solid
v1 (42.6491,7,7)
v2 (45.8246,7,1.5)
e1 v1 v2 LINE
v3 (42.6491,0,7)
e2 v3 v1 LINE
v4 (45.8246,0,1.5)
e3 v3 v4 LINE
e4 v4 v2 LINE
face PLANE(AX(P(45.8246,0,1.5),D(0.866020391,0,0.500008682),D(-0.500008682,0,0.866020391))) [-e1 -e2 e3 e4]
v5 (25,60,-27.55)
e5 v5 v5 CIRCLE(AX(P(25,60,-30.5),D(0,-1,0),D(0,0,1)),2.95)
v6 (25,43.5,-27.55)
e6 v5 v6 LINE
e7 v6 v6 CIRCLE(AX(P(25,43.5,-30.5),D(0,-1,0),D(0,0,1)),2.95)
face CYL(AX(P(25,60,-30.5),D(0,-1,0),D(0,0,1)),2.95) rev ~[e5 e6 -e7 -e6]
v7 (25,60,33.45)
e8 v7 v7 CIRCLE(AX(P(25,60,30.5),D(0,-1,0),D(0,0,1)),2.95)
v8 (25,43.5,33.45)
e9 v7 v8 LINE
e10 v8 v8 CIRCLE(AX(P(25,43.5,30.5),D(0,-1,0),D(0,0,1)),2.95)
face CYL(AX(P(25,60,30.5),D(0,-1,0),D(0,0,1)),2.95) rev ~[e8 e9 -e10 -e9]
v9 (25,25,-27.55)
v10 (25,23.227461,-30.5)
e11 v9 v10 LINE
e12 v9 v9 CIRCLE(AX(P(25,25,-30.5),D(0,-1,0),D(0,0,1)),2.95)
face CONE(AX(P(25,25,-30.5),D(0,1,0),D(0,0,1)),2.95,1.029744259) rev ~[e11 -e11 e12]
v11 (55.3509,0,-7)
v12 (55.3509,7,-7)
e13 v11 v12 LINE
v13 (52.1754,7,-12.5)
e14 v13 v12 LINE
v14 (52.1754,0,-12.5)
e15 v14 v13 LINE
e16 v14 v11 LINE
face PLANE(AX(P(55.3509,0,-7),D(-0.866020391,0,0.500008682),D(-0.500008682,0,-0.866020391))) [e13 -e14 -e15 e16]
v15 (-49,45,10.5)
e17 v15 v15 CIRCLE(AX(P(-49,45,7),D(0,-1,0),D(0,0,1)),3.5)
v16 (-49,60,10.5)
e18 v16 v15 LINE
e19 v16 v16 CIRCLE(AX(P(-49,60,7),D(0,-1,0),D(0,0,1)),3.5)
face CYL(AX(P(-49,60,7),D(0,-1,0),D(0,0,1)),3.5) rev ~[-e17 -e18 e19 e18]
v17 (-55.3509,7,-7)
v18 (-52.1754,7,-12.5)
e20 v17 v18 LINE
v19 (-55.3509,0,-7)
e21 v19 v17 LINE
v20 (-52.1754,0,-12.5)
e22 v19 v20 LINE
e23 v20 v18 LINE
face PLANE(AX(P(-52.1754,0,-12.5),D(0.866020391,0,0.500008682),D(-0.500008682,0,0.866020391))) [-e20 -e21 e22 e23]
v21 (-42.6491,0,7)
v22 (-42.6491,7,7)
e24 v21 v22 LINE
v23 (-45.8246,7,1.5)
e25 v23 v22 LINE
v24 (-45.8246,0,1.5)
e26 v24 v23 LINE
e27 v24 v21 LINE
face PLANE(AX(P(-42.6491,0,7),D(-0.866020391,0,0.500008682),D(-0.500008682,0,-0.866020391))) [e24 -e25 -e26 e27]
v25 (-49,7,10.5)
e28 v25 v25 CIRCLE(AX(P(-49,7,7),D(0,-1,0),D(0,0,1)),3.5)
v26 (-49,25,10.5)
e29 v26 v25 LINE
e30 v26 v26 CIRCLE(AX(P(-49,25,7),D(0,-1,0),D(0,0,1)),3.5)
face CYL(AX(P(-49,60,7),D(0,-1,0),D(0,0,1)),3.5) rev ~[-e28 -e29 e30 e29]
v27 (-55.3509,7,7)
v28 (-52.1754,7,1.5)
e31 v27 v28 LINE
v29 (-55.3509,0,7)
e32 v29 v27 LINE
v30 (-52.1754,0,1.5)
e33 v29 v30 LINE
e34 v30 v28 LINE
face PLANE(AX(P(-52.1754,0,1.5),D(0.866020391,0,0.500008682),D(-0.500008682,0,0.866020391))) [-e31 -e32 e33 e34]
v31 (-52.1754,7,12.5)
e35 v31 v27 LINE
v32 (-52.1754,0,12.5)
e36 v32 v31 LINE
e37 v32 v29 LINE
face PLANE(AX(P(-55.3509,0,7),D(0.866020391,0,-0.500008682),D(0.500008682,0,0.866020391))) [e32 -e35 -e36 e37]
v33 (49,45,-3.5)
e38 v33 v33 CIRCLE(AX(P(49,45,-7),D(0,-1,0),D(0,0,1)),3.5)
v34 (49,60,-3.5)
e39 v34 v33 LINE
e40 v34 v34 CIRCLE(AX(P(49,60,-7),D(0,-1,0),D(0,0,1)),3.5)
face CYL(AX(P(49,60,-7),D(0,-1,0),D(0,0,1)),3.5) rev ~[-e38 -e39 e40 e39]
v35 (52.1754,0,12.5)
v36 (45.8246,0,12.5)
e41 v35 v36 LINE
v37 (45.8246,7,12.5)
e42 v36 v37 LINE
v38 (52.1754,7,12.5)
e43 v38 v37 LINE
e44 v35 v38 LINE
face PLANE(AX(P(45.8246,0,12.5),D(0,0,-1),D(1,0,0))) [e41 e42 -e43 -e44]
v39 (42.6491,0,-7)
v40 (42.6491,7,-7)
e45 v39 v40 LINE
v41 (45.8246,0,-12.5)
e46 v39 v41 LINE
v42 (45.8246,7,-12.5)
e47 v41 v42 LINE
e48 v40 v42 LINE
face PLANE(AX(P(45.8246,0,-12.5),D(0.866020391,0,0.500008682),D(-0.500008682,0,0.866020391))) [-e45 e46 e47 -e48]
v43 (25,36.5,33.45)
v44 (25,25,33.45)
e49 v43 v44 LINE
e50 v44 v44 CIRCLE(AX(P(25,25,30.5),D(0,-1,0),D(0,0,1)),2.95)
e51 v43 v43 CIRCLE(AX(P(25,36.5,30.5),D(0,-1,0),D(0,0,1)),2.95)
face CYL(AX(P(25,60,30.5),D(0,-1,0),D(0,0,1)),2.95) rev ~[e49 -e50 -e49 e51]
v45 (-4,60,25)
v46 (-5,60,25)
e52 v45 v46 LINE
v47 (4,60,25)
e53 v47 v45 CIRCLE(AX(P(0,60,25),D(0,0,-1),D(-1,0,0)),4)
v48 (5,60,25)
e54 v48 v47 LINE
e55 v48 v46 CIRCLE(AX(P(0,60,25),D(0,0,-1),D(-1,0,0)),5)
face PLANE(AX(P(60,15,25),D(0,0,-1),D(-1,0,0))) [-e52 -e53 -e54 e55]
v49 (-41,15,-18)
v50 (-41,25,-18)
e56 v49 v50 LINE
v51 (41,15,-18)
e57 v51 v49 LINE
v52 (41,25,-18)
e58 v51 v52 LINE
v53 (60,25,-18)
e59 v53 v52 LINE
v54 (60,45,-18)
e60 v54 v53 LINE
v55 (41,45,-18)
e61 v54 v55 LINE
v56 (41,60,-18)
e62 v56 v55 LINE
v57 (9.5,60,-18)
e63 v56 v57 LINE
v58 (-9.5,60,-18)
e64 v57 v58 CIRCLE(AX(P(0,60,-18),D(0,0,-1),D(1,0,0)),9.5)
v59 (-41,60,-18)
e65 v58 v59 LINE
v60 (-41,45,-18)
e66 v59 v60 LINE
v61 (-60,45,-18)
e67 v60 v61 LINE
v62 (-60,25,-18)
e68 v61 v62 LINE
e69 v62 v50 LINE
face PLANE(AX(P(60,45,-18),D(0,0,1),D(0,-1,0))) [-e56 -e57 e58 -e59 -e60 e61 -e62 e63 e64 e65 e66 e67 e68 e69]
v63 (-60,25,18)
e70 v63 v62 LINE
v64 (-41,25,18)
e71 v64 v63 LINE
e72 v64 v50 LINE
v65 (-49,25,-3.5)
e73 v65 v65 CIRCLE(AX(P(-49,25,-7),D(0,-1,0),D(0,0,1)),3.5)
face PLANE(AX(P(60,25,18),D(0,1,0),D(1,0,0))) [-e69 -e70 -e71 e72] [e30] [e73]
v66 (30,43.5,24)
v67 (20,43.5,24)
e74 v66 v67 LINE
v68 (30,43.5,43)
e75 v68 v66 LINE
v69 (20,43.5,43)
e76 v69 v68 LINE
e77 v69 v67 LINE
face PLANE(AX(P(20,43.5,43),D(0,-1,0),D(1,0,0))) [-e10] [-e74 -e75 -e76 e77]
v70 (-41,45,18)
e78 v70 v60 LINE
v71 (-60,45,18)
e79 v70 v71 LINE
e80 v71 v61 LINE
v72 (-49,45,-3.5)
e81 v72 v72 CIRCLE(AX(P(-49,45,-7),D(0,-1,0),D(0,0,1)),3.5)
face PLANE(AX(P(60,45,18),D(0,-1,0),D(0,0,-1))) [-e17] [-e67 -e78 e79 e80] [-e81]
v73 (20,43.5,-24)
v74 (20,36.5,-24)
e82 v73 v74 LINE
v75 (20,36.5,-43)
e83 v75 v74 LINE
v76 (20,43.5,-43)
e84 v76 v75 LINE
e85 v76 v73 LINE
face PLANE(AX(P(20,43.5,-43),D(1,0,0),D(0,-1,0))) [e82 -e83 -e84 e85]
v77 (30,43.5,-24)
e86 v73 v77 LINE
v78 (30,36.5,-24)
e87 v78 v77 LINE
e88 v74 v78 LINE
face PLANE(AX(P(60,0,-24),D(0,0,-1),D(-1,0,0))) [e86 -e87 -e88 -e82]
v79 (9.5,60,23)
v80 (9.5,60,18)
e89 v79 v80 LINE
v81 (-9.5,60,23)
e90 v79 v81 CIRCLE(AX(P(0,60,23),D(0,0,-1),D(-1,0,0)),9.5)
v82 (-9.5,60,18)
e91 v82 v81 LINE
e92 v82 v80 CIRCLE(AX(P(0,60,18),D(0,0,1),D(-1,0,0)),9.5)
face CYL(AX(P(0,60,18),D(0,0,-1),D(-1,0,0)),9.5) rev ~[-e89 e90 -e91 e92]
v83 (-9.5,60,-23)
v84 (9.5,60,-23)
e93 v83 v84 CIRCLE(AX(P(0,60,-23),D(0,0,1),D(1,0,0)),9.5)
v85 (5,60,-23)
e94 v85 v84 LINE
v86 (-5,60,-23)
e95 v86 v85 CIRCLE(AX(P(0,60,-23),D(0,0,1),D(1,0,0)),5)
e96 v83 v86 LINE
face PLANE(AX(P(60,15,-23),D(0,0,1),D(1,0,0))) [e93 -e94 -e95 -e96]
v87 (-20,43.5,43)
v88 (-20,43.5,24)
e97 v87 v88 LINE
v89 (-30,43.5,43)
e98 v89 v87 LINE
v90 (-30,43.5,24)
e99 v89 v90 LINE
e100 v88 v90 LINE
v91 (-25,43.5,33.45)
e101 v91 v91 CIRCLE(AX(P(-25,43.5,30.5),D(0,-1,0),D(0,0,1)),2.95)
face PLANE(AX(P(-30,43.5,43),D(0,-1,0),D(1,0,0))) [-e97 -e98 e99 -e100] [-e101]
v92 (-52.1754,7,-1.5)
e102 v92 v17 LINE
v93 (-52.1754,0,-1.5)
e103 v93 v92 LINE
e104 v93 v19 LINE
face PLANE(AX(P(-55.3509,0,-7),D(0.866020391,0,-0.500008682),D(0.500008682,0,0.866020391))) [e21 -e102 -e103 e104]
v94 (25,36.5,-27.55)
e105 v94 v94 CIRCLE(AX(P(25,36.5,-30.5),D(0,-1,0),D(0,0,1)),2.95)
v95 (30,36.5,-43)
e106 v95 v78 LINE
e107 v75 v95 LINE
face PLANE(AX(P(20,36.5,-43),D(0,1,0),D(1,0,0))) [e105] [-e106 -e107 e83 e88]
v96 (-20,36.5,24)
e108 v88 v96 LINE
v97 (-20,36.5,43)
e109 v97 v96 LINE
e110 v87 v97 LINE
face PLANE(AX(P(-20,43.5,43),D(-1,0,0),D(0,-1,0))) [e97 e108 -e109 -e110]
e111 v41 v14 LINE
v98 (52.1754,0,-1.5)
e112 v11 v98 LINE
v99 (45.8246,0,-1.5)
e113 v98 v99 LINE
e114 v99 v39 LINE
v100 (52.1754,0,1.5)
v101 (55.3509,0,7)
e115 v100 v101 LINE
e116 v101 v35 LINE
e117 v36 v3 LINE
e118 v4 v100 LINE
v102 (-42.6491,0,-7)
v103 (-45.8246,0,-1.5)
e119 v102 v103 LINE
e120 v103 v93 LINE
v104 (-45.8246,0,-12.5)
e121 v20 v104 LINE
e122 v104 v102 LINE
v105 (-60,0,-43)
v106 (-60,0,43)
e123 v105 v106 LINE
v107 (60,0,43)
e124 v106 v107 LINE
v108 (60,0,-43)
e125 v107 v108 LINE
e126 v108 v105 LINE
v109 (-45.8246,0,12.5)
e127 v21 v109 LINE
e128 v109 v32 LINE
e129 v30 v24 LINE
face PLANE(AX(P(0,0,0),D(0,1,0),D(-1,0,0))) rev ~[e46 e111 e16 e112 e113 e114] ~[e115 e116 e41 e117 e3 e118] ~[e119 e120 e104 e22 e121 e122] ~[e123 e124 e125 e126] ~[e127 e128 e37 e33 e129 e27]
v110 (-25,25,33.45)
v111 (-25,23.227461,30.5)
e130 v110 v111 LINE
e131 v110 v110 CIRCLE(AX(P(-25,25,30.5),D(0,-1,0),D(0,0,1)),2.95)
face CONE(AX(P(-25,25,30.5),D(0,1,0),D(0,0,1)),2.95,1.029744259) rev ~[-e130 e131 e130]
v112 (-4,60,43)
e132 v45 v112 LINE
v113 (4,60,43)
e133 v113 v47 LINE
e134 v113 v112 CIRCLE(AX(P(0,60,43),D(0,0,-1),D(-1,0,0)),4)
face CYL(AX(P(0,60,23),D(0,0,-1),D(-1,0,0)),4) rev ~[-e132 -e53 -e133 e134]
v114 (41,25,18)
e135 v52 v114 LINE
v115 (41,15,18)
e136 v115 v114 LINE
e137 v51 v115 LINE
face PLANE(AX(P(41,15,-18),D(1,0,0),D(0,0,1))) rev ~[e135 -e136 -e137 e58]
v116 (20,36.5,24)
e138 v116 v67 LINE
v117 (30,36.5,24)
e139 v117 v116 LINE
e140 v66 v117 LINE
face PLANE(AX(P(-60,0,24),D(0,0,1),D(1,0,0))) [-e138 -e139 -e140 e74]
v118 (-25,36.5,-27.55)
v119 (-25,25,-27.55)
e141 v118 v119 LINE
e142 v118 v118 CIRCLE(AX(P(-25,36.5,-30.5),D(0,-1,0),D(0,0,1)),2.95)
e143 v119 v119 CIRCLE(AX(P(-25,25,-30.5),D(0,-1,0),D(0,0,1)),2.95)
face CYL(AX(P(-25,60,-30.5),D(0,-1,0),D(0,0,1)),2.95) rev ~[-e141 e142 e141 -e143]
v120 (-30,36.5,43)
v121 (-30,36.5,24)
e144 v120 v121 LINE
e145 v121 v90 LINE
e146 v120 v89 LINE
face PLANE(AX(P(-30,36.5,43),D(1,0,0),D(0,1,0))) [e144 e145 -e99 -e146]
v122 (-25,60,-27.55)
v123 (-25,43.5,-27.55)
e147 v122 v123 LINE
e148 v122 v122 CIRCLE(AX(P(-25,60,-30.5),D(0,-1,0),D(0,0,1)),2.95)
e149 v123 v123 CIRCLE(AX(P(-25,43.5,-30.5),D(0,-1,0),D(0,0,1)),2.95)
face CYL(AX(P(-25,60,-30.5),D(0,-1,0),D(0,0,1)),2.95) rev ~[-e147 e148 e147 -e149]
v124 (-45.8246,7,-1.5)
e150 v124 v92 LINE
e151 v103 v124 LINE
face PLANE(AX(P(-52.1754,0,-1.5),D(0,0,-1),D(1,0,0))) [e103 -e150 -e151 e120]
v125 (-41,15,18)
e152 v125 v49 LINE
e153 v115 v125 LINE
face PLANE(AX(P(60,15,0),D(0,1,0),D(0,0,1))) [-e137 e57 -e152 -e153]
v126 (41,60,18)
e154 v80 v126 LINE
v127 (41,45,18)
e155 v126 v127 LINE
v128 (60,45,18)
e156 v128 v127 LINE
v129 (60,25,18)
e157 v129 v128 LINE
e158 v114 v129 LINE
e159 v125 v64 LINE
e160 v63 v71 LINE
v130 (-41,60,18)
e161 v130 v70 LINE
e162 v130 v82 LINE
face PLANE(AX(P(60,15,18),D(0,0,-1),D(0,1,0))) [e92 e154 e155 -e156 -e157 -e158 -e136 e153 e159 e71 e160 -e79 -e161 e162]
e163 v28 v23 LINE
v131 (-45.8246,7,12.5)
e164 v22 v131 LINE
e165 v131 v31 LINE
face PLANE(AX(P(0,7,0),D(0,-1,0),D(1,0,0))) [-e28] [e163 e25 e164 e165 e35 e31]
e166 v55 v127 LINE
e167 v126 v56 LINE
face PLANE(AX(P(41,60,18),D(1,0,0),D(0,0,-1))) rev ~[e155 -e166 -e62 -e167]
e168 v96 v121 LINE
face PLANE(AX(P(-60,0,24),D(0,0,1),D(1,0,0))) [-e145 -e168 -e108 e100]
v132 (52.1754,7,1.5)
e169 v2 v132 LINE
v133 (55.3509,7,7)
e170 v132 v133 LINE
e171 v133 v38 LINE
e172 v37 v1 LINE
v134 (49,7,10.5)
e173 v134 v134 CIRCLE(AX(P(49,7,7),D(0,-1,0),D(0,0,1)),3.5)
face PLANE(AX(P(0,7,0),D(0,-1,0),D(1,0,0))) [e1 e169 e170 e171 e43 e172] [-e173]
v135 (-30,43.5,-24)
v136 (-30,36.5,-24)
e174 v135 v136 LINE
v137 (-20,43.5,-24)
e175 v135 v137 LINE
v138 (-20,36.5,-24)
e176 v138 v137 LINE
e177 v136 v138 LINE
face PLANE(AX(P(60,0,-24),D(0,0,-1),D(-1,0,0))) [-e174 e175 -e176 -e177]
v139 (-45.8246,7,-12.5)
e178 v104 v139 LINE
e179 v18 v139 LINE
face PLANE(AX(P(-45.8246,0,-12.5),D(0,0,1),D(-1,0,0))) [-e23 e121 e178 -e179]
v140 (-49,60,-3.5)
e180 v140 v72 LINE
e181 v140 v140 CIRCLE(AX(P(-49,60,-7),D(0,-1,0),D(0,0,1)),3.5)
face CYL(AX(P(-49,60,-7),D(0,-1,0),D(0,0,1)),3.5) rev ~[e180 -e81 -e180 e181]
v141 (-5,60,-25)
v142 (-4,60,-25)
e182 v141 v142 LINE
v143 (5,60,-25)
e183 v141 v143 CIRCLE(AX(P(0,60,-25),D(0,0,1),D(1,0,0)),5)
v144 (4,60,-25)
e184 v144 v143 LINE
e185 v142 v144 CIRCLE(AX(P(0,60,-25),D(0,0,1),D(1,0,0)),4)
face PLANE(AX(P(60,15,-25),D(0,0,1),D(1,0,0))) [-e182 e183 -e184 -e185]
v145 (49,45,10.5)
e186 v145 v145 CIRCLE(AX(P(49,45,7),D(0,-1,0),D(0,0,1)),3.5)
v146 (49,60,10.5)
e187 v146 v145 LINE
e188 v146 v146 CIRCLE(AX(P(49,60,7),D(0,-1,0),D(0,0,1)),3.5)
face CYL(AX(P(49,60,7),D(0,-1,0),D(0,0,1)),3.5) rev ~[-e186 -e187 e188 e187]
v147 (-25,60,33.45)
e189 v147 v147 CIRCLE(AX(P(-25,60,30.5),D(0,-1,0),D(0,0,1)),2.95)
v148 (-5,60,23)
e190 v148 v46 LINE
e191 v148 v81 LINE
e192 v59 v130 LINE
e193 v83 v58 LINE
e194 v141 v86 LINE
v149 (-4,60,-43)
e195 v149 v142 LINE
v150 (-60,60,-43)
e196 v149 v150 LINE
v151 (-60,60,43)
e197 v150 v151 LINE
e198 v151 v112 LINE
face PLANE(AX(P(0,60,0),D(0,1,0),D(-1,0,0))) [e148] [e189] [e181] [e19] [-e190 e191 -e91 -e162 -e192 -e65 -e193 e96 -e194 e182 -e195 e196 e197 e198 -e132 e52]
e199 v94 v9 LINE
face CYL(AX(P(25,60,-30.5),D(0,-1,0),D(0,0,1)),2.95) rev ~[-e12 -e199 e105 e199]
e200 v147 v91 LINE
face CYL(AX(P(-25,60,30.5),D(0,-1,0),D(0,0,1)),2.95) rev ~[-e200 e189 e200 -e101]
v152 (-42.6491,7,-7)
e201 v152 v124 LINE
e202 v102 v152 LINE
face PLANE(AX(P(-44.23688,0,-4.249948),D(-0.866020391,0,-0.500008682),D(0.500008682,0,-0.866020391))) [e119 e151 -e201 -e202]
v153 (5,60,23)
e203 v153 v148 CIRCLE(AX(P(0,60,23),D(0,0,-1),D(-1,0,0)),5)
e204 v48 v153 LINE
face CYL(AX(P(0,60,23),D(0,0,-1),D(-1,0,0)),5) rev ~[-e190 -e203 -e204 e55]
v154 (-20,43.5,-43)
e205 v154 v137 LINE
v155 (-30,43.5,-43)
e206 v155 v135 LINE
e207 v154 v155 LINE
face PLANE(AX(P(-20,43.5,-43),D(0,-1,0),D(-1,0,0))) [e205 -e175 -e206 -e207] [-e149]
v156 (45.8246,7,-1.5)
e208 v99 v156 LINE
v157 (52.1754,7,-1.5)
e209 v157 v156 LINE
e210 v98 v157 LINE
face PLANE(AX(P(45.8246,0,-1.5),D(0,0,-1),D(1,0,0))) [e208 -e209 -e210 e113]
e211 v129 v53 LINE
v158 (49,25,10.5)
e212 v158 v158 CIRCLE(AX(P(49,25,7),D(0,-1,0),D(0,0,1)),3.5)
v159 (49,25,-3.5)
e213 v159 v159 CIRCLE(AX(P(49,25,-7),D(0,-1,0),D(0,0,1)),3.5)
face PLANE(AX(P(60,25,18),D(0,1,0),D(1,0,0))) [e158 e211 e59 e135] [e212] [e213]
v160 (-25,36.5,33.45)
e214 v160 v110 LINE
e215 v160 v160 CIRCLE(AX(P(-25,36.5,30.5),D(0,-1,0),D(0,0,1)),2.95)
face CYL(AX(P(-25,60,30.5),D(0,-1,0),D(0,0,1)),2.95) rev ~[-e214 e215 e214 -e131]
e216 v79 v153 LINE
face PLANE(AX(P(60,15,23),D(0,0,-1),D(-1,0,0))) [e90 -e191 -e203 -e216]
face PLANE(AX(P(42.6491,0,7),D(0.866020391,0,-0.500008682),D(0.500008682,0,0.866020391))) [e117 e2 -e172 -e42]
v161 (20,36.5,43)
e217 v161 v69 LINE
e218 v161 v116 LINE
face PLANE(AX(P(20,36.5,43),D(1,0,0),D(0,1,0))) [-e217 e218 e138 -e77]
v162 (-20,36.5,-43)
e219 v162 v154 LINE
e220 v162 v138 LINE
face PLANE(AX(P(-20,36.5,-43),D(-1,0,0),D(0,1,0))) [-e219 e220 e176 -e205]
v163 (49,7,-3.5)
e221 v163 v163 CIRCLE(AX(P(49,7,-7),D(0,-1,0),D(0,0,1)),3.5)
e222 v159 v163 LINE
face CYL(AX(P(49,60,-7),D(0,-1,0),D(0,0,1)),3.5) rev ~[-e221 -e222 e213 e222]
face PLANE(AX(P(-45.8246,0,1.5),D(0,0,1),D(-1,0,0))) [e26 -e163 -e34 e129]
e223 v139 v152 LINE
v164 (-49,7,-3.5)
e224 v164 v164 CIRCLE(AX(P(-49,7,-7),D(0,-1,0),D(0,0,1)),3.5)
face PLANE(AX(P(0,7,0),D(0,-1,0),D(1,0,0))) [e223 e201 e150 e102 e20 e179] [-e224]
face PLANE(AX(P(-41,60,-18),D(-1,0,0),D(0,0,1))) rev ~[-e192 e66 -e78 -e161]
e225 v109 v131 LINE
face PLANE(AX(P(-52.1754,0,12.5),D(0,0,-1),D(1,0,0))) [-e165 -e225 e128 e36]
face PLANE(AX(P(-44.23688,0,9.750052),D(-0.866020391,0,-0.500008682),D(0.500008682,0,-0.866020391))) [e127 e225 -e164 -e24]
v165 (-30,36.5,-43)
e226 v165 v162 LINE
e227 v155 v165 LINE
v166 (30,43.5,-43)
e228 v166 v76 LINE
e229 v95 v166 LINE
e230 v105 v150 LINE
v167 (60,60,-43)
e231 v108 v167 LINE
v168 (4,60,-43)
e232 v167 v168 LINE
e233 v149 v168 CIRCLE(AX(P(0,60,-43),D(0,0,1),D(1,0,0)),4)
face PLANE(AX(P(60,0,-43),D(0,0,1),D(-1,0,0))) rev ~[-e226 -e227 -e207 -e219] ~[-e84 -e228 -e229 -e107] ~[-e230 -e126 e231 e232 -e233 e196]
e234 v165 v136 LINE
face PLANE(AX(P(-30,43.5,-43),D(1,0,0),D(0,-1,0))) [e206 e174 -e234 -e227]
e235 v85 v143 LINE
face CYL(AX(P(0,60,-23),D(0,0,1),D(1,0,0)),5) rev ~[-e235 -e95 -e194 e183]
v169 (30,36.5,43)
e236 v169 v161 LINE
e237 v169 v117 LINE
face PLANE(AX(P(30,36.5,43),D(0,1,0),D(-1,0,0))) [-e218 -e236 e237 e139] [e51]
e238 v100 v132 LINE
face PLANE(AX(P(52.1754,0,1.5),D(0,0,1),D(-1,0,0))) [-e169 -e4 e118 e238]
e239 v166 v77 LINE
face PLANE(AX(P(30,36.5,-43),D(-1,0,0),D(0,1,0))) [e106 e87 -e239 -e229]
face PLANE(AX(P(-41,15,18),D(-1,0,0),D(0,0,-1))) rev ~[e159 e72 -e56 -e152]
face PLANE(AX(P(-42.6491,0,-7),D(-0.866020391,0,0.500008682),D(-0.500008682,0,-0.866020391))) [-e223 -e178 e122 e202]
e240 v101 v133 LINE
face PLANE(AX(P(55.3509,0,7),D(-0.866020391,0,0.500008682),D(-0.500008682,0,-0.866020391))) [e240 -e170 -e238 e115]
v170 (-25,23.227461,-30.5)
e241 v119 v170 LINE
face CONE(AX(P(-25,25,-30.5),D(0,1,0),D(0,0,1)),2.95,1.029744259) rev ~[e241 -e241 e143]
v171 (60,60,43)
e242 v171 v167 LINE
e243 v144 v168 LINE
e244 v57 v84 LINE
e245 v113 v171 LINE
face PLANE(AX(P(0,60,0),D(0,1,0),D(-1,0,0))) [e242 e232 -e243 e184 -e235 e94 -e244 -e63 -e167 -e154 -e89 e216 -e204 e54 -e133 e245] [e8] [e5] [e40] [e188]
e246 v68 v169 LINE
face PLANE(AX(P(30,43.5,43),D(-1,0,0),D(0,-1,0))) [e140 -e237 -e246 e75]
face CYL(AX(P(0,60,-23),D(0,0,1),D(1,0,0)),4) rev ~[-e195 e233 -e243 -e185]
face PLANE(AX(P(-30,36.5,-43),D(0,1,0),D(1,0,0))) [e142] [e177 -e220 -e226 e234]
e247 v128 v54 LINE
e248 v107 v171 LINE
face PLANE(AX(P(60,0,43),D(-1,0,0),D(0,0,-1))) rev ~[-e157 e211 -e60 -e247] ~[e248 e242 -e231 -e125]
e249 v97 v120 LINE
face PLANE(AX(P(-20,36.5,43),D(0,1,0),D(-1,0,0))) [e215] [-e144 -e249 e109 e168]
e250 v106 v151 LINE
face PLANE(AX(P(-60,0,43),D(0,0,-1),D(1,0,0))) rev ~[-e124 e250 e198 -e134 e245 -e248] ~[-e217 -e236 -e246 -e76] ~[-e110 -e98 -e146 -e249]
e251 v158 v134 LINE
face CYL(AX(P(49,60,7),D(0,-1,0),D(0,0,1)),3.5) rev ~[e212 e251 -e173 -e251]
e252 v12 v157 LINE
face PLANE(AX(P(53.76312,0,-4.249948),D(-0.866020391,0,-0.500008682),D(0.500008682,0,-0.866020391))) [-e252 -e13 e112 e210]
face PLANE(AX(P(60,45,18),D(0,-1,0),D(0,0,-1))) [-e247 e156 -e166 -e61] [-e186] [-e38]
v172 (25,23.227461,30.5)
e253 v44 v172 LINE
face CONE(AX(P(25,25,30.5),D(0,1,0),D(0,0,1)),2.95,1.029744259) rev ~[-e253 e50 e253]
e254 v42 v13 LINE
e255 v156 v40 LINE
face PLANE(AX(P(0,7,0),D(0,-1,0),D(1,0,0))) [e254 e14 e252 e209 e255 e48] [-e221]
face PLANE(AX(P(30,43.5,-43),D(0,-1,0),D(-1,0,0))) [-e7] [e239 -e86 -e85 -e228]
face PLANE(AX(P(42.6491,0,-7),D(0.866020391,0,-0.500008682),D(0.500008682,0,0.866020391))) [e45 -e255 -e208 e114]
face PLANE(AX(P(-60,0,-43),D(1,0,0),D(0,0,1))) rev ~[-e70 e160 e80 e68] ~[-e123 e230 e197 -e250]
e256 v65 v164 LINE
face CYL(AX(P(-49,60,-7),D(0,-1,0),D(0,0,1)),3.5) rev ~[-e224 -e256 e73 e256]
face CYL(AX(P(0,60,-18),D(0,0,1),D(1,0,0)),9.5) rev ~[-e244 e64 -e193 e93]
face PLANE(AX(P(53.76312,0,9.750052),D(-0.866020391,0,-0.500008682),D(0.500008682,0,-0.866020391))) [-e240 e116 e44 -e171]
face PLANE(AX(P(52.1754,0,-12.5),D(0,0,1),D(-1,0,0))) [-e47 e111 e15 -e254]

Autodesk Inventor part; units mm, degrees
ref_plane "YZ Plane" through (0, 0, 0) normal (1, 0, 0) x (0, 1, 0)
ref_plane "XZ Plane" through (0, 0, 0) normal (0, 1, 0) x (-1, 0, 0)
ref_plane "XY Plane" through (0, 0, 0) normal (0, 0, 1) x (1, 0, 0)
sketch "Schizzo1" plane through (0, 0, 0) normal (0, 1, 0) x (-1, 0, 0)
  line L0 (60, 43) -> (-60, 43)
  line L1 (-60, 43) -> (-60, -43)
  line L2 (-60, -43) -> (60, -43)
  line L3 (60, -43) -> (60, 43)
  line L4 (60, 43) -> (-60, -43) construction
  line L5 (-60, 43) -> (60, -43) construction
  point P0 (0, 0)
  point P1 (0, 0)
  point P2 (0, 0)
  dimension "d0" = 120
  dimension "d1" = 86
extrude "Estrusione1" add sketch "Schizzo1" along normal blind 60
sketch "Schizzo2" plane through (60, 0, 43) normal (1, 0, 0) x (0, 0, -1)
  line L0 (43, 0) -> (43, 15)
  line L1 (25, 45) -> (61, 45)
  line L2 (61, 45) -> (61, 15)
  line L3 (61, 15) -> (25, 15)
  line L4 (25, 15) -> (25, 45)
  line L5 (25, 45) -> (61, 15) construction
  line L6 (61, 45) -> (25, 15) construction
  point P0 (43, 30)
  dimension "d4" = 15
  dimension "d5" = 36
  dimension "d6" = 30
extrude "Estrusione2" cut sketch "Schizzo2" against normal blind 120
sketch "Schizzo3" plane through (60, 15, -18) normal (0, 0, 1) x (1, 0, 0)
  circle A0 centre (-60, 45) radius 9.5
  line L0 (0, 45) -> (-120, 45) projected
  point P0 (-60, -15)
  dimension "d9" = 19
extrude "Estrusione3" cut sketch "Schizzo3" against normal blind 5
sketch "Schizzo4" plane through (60, 15, -23) normal (0, 0, 1) x (1, 0, 0)
  circle A0 centre (-60, 45) radius 4
  line L0 (0, 45) -> (-120, 45) projected
  point P0 (-60, -15)
  dimension "d12" = 8
extrude "Estrusione4" cut sketch "Schizzo4" against normal blind 20
sketch "Schizzo5" plane through (60, 15, 18) normal (0, 0, -1) x (-1, 0, 0)
  circle A0 centre (60, 45) radius 9.5
  line L0 (120, 45) -> (0, 45) projected
  point P0 (60, -15)
  dimension "d15" = 19
extrude "Estrusione5" cut sketch "Schizzo5" against normal blind 5
sketch "Schizzo6" plane through (60, 15, 23) normal (0, 0, -1) x (-1, 0, 0)
  circle A0 centre (60, 45) radius 4
  line L0 (50.5, 45) -> (69.5, 45) projected
  point P0 (60, -15)
extrude "Estrusione6" cut sketch "Schizzo6" against normal blind 20
sketch "Schizzo7" plane through (0, 60, 0) normal (0, 1, 0) x (1, 0, 0)
  line L0 (-4, 43) -> (4, 43) projected
  line L1 (0, 43) -> (0, 18)
  line L2 (60, 18) -> (-60, 18) projected
  line L3 (0, -18) -> (0, -43)
  line L4 (4, -43) -> (-4, -43) projected
  line L5 (-133, 18) -> (-97, 18) construction
  line L6 (-25, 30.5) -> (25, 30.5)
  line L7 (-25, -30.5) -> (25, -30.5)
  point P0 (0, 0)
  point P1 (0, 30.5)
  point P2 (0, -30.5)
  point P3 (-50, 18)
  dimension "d22" = 50
  dimension "d23" = 50
hole "Foro1" at (-25, 60, -30.5) at (-25, 60, 30.5) at (25, 60, 30.5) at (25, 60, -30.5) direction (0, -1, 0) diameter 5.9 depth 35 tip angle 118 clearance for "Vite a testa esagonale" size "M5" standard "ANSI - Profilo M Metrico"
sketch "Schizzo8" plane through (-60, 0, 43) normal (0, 0, 1) x (1, 0, 0)
  line L0 (32.05, 60) -> (37.95, 60) projected
  line L1 (82.05, 60) -> (87.95, 60) projected
  line L2 (85, 60) -> (85, 40)
  line L3 (85, 60) -> (65, 60) construction
  line L4 (35, 60) -> (35, 40)
  line L5 (35, 60) -> (15, 60) construction
  line L6 (30, 43.5) -> (40, 43.5)
  line L7 (40, 43.5) -> (40, 36.5)
  line L8 (40, 36.5) -> (30, 36.5)
  line L9 (30, 36.5) -> (30, 43.5)
  line L10 (30, 43.5) -> (40, 36.5) construction
  line L11 (40, 43.5) -> (30, 36.5) construction
  line L12 (80, 43.5) -> (90, 43.5)
  line L13 (90, 43.5) -> (90, 36.5)
  line L14 (90, 36.5) -> (80, 36.5)
  line L15 (80, 36.5) -> (80, 43.5)
  line L16 (80, 43.5) -> (90, 36.5) construction
  line L17 (90, 43.5) -> (80, 36.5) construction
  point P0 (60, 0)
  point P1 (35, 40)
  dimension "d31" = 90
  dimension "d32" = 270
  dimension "d33" = 20
  dimension "d34" = 20
  dimension "d35" = 7
  dimension "d36" = 7
  dimension "d37" = 10
  dimension "d38" = 10
extrude "Estrusione7" cut sketch "Schizzo8" against normal blind 19
sketch "Schizzo10" plane through (60, 0, -43) normal (0, 0, -1) x (-1, 0, 0)
  line L0 (85, 60) -> (85, 40)
  line L1 (85, 60) -> (65, 60) construction
  line L2 (35, 60) -> (35, 40)
  line L3 (35, 60) -> (15, 60) construction
  line L4 (30, 43.5) -> (40, 43.5)
  line L5 (40, 43.5) -> (40, 36.5)
  line L6 (40, 36.5) -> (30, 36.5)
  line L7 (30, 36.5) -> (30, 43.5)
  line L8 (30, 43.5) -> (40, 36.5) construction
  line L9 (40, 43.5) -> (30, 36.5) construction
  line L10 (80, 43.5) -> (90, 43.5)
  line L11 (90, 43.5) -> (90, 36.5)
  line L12 (90, 36.5) -> (80, 36.5)
  line L13 (80, 36.5) -> (80, 43.5)
  line L14 (80, 43.5) -> (90, 36.5) construction
  line L15 (90, 43.5) -> (80, 36.5) construction
  line L16 (32.05, 60) -> (37.95, 60) projected
  line L17 (82.05, 60) -> (87.95, 60) projected
  point P0 (60, 0)
  point P1 (50, 0)
  point P2 (35, 40)
  dimension "d42" = 90
  dimension "d43" = 270
  dimension "d44" = 20
  dimension "d45" = 20
  dimension "d46" = 7
  dimension "d47" = 7
  dimension "d48" = 10
  dimension "d49" = 10
extrude "Estrusione8" cut sketch "Schizzo10" against normal blind 19
sketch "Schizzo11" plane through (60, 15, 18) normal (0, 0, -1) x (-1, 0, 0)
  line L0 (30.0078, 67.5) -> (89.9922, 22.5) construction
  line L1 (90.0057, 68) -> (30.1859, 18.1994) construction
  line L2 (56, 45) -> (0, 45) projected
  line L3 (120, 45) -> (64, 45) projected
  line L4 (0, 45) -> (120, 45)
  line L5 (60, 45) -> (290, 45) construction
  line L6 (60, 45) -> (60, 19)
  line L7 (60, 45) -> (86, 45) construction
  line L8 (60, 19) -> (92.5948, 19) construction
  line L9 (60, 19) -> (90, 19)
  line L10 (60, 19) -> (90, 19) construction
  line L11 (60, 19) -> (30, 19)
  line L12 (32.05, 10) -> (32.05, 21.5) projected
  line L13 (60, 19) -> (90, 19) construction
  line L14 (60, 45) -> (60, 68)
  line L15 (60, 68) -> (90.0057, 68)
  line L16 (90.0057, 68) -> (30, 68)
  line L17 (30, 68) -> (30, 19)
  line L18 (30, 19) -> (90.0057, 19)
  line L19 (90.0057, 19) -> (90.0057, 68)
  circle A0 centre (60, 45) radius 39.7032
  point P0 (60, -15)
  point P1 (61.2511, 44.0615)
  dimension "d52" = 60
  dimension "d53" = 45.5
  dimension "d72" = 26
  dimension "d73" = 90
  dimension "d75" = 30
  dimension "d76" = 0
  dimension "d77" = 30
  dimension "d78" = 180
  dimension "d79" = 23
sketch "Schizzo12" plane through (60, 15, 18) normal (0, 0, -1) x (-1, 0, 0)
  line L0 (120, -15) -> (120, 45) projected
  line L1 (120, 45) -> (120, 32)
  line L2 (120, 45) -> (133, 45) construction
  line L3 (120, 32) -> (150, 32)
  line L4 (150, 32) -> (150, 35)
  line L5 (61.2511, 44.0615) -> (261.2511, 44.0615) construction
  arc A0 (56, 45) -> (64, 45) centre (60, 45) ccw projected
  line L6 (60, 45) -> (233.2051, 145)
  line L7 (60, 45) -> (260, 45) construction
  line L8 (150, 35) -> (350, 35) construction
  line L9 (155, 82.5278) -> (145, 99.8483)
  line L10 (150, 35) -> (206.188, 35) construction
  line L11 (155, 82.5278) -> (138, 72.7128)
  line L12 (150, 32) -> (150, 79.641)
  line L13 (150, 79.641) -> (150, 32)
  circle A1 centre (150, 76.1769) radius 3
  line L14 (150, 32) -> (150, 76.1769)
  line L15 (150, 32) -> (120, 10)
  line L16 (60, 45) -> (60, 245)
  line L17 (69.5, 45) -> (50.5, 45) projected
  line L18 (60, 45) -> (260, 45) construction
  arc A2 (77.4356, 61) -> (42.5644, 61) centre (60, 46) ccw projected
  circle A3 centre (60, 46) radius 23
  line L19 (60, 45) -> (-140, 45)
  line L20 (60, 45) -> (260, 45) construction
  line L21 (120, 45) -> (64, 45) projected
  circle A4 centre (233.2051, 145) radius 151.0476
  point P0 (60, -15)
  point P1 (61.2511, 44.0615)
  point P2 (61.2511, 44.0615)
  point P3 (60, 69)
  point P4 (0, 45)
  point P5 (102.394, 69.4762)
  dimension "d54" = 13
  dimension "d55" = 90
  dimension "d56" = 30
  dimension "d57" = 90
  dimension "d58" = 3
  dimension "d61" = 200
  dimension "d62" = 30
  dimension "d66" = 20
  dimension "d67" = 47.641
  dimension "d68" = 6
  dimension "d69" = 44.1769
  dimension "d173" = 200
  dimension "d174" = 90
  dimension "d175" = 176
  dimension "d176" = 200
  dimension "d177" = 180
  dimension "d178" = 140
  dimension "d179" = 302.0953
sketch "Schizzo13" plane through (0, 60, 0) normal (0, 1, 0) x (1, 0, 0)
  line L0 (-41, -18) -> (41, -18)
  line L1 (41, -18) -> (41, 18)
  line L2 (41, 18) -> (-41, 18)
  line L3 (-41, 18) -> (-41, -18)
  line L4 (-41, -18) -> (41, 18) construction
  line L5 (41, -18) -> (-41, 18) construction
  point P0 (0, 0)
  point P1 (0, 0)
  point P2 (0, 0)
  dimension "d132" = 82
  dimension "d133" = 36
extrude "Estrusione9" cut sketch "Schizzo13" against normal blind 20
sketch "Schizzo16" plane through (60, 15, -23) normal (0, 0, 1) x (1, 0, 0)
  circle A0 centre (-60, 45) radius 5
  arc A1 (-64, 45) -> (-56, 45) centre (-60, 45) ccw projected
  point P0 (-60, -15)
  dimension "d94" = 10
extrude "Estrusione11" cut sketch "Schizzo16" against normal blind 2
sketch "Schizzo17" plane through (60, 15, 23) normal (0, 0, -1) x (-1, 0, 0)
  arc A0 (56, 45) -> (64, 45) centre (60, 45) ccw projected
  circle A1 centre (60, 45) radius 5
  point P0 (60, -15)
  dimension "d97" = 10
extrude "Estrusione12" cut sketch "Schizzo17" against normal blind 2
sketch "Schizzo21" plane through (60, 15, 18) normal (0, 1, 0) x (1, 0, 0)
  line L0 (-19, 36) -> (-19, 0) projected
  line L1 (-101, 0) -> (-101, 36) projected
  line L2 (-19, 0) -> (-50.5, 0) projected
  line L3 (-50.5, 36) -> (-19, 36) projected
  line L4 (-101, 36) -> (-69.5, 36) projected
  line L5 (-69.5, 0) -> (-101, 0) projected
  line L6 (-19, 36) -> (-19, 0)
  line L7 (-19, 0) -> (0, 0)
  line L8 (0, 0) -> (0, 36)
  line L9 (0, 36) -> (-19, 36)
  line L10 (-101, 36) -> (-101, 0)
  line L11 (-101, 0) -> (-120, 0)
  line L12 (-120, 0) -> (-120, 36)
  line L13 (-120, 36) -> (-101, 36)
  line L14 (-120, 61) -> (-120, -25) projected
  line L15 (0, -25) -> (0, 61) projected
  point P0 (-60, 18)
extrude "Estrusione14" add sketch "Schizzo21" along normal blind 10
sketch "Schizzo15" plane through (0, 60, 0) normal (0, 1, 0) x (1, 0, 0)
  line L0 (-60, 43) -> (-60, -43) projected
  line L1 (60, -43) -> (60, 43) projected
  line L2 (60, 0) -> (66, 0) construction
  line L3 (-60, -18) -> (-60, 18) projected
  line L4 (-49, 0) -> (-42, 0) construction
  line L5 (-49, 0) -> (-42, 0) construction
  line L6 (-43, 0) -> (-49, 0)
  line L7 (43, 0) -> (49, 0)
  line L8 (43, 0) -> (49, 0) construction
  line L9 (-49, 0) -> (-49, 7)
  line L10 (-49, 0) -> (-42, 0) construction
  line L11 (-49, 0) -> (-49, -7)
  line L12 (-49, 0) -> (-42, 0) construction
  line L13 (49, 0) -> (49, 7)
  line L14 (49, 0) -> (56, 0) construction
  line L15 (49, 0) -> (49, -7)
  line L16 (49, 0) -> (56, 0) construction
  point P0 (0, 0)
  dimension "d134" = 6
  dimension "d137" = 6
  dimension "d138" = 0
  dimension "d139" = 7
  dimension "d140" = 90
  dimension "d141" = 7
  dimension "d142" = 90
  dimension "d143" = 7
  dimension "d144" = 90
  dimension "d145" = 7
  dimension "d146" = 90
hole "Foro5" at (49, 60, 7) at (49, 60, -7) at (-49, 60, 7) at (-49, 60, -7) direction (0, -1, 0) diameter 7 depth 60 clearance for "Vite a testa piana" size "M6" standard "ANSI - Profilo M Metrico"
sketch "Schizzo22" plane through (0, 0, 0) normal (0, -1, 0) x (1, 0, 0)
  circle A0 centre (-49, -7) radius 3.5 projected
  circle A1 centre (-49, 7) radius 3.5 projected
  circle A2 centre (49, -7) radius 3.5 projected
  circle A3 centre (49, 7) radius 3.5 projected
  circle A4 centre (-49, -7) radius 5.5
  circle A5 centre (-49, 7) radius 5.5
  circle A6 centre (49, -7) radius 5.5
  circle A7 centre (49, 7) radius 5.5
  line L0 (52.1754, -1.5) -> (55.3509, -7)
  line L1 (55.3509, -7) -> (52.1754, -12.5)
  line L2 (52.1754, -12.5) -> (45.8246, -12.5)
  line L3 (45.8246, -12.5) -> (42.6491, -7)
  line L4 (42.6491, -7) -> (45.8246, -1.5)
  line L5 (45.8246, -1.5) -> (52.1754, -1.5)
  line L6 (45.8246, 1.5) -> (42.6491, 7)
  line L7 (42.6491, 7) -> (45.8246, 12.5)
  line L8 (45.8246, 12.5) -> (52.1754, 12.5)
  line L9 (52.1754, 12.5) -> (55.3509, 7)
  line L10 (55.3509, 7) -> (52.1754, 1.5)
  line L11 (52.1754, 1.5) -> (45.8246, 1.5)
  line L12 (-45.8246, -1.5) -> (-42.6491, -7)
  line L13 (-42.6491, -7) -> (-45.8246, -12.5)
  line L14 (-45.8246, -12.5) -> (-52.1754, -12.5)
  line L15 (-52.1754, -12.5) -> (-55.3509, -7)
  line L16 (-55.3509, -7) -> (-52.1754, -1.5)
  line L17 (-52.1754, -1.5) -> (-45.8246, -1.5)
  line L18 (-52.1754, 1.5) -> (-55.3509, 7)
  line L19 (-55.3509, 7) -> (-52.1754, 12.5)
  line L20 (-52.1754, 12.5) -> (-45.8246, 12.5)
  line L21 (-45.8246, 12.5) -> (-42.6491, 7)
  line L22 (-42.6491, 7) -> (-45.8246, 1.5)
  line L23 (-45.8246, 1.5) -> (-52.1754, 1.5)
  point P0 (0, 0)
  point P1 (49, -1.5)
  point P2 (49, 1.5)
  point P3 (-49, -1.5)
  point P4 (-49, 1.5)
  dimension "d167" = 11
  dimension "d168" = 11
  dimension "d169" = 11
  dimension "d170" = 11
extrude "Estrusione15" cut sketch "Schizzo22" against normal blind 7 contours A0 | A1 | A2 | A3 | A4 | A4 L12 L13 | A4 L17 L12 | L13 L14 A4 | A4 L16 L17 | L14 L15 A4 | A4 L15 L16 | A5 | A5 L21 L22 | A5 L20 L21 | L22 L23 A5 | A5 L19 L20 | L23 L18 A5 | A5 L18 L19 | A6 | A6 L0 L1 | A6 L5 L0 | L1 L2 A6 | A6 L4 L5 | L2 L3 A6 | A6 L3 L4 | A7 | A7 L9 L10 | A7 L8 L9 | L10 L11 A7 | A7 L7 L8 | L11 L6 A7 | A7 L6 L7
properties part number "19_Base_Pezzo_Unico" material "PLA(Stampato)(D0,646)"
